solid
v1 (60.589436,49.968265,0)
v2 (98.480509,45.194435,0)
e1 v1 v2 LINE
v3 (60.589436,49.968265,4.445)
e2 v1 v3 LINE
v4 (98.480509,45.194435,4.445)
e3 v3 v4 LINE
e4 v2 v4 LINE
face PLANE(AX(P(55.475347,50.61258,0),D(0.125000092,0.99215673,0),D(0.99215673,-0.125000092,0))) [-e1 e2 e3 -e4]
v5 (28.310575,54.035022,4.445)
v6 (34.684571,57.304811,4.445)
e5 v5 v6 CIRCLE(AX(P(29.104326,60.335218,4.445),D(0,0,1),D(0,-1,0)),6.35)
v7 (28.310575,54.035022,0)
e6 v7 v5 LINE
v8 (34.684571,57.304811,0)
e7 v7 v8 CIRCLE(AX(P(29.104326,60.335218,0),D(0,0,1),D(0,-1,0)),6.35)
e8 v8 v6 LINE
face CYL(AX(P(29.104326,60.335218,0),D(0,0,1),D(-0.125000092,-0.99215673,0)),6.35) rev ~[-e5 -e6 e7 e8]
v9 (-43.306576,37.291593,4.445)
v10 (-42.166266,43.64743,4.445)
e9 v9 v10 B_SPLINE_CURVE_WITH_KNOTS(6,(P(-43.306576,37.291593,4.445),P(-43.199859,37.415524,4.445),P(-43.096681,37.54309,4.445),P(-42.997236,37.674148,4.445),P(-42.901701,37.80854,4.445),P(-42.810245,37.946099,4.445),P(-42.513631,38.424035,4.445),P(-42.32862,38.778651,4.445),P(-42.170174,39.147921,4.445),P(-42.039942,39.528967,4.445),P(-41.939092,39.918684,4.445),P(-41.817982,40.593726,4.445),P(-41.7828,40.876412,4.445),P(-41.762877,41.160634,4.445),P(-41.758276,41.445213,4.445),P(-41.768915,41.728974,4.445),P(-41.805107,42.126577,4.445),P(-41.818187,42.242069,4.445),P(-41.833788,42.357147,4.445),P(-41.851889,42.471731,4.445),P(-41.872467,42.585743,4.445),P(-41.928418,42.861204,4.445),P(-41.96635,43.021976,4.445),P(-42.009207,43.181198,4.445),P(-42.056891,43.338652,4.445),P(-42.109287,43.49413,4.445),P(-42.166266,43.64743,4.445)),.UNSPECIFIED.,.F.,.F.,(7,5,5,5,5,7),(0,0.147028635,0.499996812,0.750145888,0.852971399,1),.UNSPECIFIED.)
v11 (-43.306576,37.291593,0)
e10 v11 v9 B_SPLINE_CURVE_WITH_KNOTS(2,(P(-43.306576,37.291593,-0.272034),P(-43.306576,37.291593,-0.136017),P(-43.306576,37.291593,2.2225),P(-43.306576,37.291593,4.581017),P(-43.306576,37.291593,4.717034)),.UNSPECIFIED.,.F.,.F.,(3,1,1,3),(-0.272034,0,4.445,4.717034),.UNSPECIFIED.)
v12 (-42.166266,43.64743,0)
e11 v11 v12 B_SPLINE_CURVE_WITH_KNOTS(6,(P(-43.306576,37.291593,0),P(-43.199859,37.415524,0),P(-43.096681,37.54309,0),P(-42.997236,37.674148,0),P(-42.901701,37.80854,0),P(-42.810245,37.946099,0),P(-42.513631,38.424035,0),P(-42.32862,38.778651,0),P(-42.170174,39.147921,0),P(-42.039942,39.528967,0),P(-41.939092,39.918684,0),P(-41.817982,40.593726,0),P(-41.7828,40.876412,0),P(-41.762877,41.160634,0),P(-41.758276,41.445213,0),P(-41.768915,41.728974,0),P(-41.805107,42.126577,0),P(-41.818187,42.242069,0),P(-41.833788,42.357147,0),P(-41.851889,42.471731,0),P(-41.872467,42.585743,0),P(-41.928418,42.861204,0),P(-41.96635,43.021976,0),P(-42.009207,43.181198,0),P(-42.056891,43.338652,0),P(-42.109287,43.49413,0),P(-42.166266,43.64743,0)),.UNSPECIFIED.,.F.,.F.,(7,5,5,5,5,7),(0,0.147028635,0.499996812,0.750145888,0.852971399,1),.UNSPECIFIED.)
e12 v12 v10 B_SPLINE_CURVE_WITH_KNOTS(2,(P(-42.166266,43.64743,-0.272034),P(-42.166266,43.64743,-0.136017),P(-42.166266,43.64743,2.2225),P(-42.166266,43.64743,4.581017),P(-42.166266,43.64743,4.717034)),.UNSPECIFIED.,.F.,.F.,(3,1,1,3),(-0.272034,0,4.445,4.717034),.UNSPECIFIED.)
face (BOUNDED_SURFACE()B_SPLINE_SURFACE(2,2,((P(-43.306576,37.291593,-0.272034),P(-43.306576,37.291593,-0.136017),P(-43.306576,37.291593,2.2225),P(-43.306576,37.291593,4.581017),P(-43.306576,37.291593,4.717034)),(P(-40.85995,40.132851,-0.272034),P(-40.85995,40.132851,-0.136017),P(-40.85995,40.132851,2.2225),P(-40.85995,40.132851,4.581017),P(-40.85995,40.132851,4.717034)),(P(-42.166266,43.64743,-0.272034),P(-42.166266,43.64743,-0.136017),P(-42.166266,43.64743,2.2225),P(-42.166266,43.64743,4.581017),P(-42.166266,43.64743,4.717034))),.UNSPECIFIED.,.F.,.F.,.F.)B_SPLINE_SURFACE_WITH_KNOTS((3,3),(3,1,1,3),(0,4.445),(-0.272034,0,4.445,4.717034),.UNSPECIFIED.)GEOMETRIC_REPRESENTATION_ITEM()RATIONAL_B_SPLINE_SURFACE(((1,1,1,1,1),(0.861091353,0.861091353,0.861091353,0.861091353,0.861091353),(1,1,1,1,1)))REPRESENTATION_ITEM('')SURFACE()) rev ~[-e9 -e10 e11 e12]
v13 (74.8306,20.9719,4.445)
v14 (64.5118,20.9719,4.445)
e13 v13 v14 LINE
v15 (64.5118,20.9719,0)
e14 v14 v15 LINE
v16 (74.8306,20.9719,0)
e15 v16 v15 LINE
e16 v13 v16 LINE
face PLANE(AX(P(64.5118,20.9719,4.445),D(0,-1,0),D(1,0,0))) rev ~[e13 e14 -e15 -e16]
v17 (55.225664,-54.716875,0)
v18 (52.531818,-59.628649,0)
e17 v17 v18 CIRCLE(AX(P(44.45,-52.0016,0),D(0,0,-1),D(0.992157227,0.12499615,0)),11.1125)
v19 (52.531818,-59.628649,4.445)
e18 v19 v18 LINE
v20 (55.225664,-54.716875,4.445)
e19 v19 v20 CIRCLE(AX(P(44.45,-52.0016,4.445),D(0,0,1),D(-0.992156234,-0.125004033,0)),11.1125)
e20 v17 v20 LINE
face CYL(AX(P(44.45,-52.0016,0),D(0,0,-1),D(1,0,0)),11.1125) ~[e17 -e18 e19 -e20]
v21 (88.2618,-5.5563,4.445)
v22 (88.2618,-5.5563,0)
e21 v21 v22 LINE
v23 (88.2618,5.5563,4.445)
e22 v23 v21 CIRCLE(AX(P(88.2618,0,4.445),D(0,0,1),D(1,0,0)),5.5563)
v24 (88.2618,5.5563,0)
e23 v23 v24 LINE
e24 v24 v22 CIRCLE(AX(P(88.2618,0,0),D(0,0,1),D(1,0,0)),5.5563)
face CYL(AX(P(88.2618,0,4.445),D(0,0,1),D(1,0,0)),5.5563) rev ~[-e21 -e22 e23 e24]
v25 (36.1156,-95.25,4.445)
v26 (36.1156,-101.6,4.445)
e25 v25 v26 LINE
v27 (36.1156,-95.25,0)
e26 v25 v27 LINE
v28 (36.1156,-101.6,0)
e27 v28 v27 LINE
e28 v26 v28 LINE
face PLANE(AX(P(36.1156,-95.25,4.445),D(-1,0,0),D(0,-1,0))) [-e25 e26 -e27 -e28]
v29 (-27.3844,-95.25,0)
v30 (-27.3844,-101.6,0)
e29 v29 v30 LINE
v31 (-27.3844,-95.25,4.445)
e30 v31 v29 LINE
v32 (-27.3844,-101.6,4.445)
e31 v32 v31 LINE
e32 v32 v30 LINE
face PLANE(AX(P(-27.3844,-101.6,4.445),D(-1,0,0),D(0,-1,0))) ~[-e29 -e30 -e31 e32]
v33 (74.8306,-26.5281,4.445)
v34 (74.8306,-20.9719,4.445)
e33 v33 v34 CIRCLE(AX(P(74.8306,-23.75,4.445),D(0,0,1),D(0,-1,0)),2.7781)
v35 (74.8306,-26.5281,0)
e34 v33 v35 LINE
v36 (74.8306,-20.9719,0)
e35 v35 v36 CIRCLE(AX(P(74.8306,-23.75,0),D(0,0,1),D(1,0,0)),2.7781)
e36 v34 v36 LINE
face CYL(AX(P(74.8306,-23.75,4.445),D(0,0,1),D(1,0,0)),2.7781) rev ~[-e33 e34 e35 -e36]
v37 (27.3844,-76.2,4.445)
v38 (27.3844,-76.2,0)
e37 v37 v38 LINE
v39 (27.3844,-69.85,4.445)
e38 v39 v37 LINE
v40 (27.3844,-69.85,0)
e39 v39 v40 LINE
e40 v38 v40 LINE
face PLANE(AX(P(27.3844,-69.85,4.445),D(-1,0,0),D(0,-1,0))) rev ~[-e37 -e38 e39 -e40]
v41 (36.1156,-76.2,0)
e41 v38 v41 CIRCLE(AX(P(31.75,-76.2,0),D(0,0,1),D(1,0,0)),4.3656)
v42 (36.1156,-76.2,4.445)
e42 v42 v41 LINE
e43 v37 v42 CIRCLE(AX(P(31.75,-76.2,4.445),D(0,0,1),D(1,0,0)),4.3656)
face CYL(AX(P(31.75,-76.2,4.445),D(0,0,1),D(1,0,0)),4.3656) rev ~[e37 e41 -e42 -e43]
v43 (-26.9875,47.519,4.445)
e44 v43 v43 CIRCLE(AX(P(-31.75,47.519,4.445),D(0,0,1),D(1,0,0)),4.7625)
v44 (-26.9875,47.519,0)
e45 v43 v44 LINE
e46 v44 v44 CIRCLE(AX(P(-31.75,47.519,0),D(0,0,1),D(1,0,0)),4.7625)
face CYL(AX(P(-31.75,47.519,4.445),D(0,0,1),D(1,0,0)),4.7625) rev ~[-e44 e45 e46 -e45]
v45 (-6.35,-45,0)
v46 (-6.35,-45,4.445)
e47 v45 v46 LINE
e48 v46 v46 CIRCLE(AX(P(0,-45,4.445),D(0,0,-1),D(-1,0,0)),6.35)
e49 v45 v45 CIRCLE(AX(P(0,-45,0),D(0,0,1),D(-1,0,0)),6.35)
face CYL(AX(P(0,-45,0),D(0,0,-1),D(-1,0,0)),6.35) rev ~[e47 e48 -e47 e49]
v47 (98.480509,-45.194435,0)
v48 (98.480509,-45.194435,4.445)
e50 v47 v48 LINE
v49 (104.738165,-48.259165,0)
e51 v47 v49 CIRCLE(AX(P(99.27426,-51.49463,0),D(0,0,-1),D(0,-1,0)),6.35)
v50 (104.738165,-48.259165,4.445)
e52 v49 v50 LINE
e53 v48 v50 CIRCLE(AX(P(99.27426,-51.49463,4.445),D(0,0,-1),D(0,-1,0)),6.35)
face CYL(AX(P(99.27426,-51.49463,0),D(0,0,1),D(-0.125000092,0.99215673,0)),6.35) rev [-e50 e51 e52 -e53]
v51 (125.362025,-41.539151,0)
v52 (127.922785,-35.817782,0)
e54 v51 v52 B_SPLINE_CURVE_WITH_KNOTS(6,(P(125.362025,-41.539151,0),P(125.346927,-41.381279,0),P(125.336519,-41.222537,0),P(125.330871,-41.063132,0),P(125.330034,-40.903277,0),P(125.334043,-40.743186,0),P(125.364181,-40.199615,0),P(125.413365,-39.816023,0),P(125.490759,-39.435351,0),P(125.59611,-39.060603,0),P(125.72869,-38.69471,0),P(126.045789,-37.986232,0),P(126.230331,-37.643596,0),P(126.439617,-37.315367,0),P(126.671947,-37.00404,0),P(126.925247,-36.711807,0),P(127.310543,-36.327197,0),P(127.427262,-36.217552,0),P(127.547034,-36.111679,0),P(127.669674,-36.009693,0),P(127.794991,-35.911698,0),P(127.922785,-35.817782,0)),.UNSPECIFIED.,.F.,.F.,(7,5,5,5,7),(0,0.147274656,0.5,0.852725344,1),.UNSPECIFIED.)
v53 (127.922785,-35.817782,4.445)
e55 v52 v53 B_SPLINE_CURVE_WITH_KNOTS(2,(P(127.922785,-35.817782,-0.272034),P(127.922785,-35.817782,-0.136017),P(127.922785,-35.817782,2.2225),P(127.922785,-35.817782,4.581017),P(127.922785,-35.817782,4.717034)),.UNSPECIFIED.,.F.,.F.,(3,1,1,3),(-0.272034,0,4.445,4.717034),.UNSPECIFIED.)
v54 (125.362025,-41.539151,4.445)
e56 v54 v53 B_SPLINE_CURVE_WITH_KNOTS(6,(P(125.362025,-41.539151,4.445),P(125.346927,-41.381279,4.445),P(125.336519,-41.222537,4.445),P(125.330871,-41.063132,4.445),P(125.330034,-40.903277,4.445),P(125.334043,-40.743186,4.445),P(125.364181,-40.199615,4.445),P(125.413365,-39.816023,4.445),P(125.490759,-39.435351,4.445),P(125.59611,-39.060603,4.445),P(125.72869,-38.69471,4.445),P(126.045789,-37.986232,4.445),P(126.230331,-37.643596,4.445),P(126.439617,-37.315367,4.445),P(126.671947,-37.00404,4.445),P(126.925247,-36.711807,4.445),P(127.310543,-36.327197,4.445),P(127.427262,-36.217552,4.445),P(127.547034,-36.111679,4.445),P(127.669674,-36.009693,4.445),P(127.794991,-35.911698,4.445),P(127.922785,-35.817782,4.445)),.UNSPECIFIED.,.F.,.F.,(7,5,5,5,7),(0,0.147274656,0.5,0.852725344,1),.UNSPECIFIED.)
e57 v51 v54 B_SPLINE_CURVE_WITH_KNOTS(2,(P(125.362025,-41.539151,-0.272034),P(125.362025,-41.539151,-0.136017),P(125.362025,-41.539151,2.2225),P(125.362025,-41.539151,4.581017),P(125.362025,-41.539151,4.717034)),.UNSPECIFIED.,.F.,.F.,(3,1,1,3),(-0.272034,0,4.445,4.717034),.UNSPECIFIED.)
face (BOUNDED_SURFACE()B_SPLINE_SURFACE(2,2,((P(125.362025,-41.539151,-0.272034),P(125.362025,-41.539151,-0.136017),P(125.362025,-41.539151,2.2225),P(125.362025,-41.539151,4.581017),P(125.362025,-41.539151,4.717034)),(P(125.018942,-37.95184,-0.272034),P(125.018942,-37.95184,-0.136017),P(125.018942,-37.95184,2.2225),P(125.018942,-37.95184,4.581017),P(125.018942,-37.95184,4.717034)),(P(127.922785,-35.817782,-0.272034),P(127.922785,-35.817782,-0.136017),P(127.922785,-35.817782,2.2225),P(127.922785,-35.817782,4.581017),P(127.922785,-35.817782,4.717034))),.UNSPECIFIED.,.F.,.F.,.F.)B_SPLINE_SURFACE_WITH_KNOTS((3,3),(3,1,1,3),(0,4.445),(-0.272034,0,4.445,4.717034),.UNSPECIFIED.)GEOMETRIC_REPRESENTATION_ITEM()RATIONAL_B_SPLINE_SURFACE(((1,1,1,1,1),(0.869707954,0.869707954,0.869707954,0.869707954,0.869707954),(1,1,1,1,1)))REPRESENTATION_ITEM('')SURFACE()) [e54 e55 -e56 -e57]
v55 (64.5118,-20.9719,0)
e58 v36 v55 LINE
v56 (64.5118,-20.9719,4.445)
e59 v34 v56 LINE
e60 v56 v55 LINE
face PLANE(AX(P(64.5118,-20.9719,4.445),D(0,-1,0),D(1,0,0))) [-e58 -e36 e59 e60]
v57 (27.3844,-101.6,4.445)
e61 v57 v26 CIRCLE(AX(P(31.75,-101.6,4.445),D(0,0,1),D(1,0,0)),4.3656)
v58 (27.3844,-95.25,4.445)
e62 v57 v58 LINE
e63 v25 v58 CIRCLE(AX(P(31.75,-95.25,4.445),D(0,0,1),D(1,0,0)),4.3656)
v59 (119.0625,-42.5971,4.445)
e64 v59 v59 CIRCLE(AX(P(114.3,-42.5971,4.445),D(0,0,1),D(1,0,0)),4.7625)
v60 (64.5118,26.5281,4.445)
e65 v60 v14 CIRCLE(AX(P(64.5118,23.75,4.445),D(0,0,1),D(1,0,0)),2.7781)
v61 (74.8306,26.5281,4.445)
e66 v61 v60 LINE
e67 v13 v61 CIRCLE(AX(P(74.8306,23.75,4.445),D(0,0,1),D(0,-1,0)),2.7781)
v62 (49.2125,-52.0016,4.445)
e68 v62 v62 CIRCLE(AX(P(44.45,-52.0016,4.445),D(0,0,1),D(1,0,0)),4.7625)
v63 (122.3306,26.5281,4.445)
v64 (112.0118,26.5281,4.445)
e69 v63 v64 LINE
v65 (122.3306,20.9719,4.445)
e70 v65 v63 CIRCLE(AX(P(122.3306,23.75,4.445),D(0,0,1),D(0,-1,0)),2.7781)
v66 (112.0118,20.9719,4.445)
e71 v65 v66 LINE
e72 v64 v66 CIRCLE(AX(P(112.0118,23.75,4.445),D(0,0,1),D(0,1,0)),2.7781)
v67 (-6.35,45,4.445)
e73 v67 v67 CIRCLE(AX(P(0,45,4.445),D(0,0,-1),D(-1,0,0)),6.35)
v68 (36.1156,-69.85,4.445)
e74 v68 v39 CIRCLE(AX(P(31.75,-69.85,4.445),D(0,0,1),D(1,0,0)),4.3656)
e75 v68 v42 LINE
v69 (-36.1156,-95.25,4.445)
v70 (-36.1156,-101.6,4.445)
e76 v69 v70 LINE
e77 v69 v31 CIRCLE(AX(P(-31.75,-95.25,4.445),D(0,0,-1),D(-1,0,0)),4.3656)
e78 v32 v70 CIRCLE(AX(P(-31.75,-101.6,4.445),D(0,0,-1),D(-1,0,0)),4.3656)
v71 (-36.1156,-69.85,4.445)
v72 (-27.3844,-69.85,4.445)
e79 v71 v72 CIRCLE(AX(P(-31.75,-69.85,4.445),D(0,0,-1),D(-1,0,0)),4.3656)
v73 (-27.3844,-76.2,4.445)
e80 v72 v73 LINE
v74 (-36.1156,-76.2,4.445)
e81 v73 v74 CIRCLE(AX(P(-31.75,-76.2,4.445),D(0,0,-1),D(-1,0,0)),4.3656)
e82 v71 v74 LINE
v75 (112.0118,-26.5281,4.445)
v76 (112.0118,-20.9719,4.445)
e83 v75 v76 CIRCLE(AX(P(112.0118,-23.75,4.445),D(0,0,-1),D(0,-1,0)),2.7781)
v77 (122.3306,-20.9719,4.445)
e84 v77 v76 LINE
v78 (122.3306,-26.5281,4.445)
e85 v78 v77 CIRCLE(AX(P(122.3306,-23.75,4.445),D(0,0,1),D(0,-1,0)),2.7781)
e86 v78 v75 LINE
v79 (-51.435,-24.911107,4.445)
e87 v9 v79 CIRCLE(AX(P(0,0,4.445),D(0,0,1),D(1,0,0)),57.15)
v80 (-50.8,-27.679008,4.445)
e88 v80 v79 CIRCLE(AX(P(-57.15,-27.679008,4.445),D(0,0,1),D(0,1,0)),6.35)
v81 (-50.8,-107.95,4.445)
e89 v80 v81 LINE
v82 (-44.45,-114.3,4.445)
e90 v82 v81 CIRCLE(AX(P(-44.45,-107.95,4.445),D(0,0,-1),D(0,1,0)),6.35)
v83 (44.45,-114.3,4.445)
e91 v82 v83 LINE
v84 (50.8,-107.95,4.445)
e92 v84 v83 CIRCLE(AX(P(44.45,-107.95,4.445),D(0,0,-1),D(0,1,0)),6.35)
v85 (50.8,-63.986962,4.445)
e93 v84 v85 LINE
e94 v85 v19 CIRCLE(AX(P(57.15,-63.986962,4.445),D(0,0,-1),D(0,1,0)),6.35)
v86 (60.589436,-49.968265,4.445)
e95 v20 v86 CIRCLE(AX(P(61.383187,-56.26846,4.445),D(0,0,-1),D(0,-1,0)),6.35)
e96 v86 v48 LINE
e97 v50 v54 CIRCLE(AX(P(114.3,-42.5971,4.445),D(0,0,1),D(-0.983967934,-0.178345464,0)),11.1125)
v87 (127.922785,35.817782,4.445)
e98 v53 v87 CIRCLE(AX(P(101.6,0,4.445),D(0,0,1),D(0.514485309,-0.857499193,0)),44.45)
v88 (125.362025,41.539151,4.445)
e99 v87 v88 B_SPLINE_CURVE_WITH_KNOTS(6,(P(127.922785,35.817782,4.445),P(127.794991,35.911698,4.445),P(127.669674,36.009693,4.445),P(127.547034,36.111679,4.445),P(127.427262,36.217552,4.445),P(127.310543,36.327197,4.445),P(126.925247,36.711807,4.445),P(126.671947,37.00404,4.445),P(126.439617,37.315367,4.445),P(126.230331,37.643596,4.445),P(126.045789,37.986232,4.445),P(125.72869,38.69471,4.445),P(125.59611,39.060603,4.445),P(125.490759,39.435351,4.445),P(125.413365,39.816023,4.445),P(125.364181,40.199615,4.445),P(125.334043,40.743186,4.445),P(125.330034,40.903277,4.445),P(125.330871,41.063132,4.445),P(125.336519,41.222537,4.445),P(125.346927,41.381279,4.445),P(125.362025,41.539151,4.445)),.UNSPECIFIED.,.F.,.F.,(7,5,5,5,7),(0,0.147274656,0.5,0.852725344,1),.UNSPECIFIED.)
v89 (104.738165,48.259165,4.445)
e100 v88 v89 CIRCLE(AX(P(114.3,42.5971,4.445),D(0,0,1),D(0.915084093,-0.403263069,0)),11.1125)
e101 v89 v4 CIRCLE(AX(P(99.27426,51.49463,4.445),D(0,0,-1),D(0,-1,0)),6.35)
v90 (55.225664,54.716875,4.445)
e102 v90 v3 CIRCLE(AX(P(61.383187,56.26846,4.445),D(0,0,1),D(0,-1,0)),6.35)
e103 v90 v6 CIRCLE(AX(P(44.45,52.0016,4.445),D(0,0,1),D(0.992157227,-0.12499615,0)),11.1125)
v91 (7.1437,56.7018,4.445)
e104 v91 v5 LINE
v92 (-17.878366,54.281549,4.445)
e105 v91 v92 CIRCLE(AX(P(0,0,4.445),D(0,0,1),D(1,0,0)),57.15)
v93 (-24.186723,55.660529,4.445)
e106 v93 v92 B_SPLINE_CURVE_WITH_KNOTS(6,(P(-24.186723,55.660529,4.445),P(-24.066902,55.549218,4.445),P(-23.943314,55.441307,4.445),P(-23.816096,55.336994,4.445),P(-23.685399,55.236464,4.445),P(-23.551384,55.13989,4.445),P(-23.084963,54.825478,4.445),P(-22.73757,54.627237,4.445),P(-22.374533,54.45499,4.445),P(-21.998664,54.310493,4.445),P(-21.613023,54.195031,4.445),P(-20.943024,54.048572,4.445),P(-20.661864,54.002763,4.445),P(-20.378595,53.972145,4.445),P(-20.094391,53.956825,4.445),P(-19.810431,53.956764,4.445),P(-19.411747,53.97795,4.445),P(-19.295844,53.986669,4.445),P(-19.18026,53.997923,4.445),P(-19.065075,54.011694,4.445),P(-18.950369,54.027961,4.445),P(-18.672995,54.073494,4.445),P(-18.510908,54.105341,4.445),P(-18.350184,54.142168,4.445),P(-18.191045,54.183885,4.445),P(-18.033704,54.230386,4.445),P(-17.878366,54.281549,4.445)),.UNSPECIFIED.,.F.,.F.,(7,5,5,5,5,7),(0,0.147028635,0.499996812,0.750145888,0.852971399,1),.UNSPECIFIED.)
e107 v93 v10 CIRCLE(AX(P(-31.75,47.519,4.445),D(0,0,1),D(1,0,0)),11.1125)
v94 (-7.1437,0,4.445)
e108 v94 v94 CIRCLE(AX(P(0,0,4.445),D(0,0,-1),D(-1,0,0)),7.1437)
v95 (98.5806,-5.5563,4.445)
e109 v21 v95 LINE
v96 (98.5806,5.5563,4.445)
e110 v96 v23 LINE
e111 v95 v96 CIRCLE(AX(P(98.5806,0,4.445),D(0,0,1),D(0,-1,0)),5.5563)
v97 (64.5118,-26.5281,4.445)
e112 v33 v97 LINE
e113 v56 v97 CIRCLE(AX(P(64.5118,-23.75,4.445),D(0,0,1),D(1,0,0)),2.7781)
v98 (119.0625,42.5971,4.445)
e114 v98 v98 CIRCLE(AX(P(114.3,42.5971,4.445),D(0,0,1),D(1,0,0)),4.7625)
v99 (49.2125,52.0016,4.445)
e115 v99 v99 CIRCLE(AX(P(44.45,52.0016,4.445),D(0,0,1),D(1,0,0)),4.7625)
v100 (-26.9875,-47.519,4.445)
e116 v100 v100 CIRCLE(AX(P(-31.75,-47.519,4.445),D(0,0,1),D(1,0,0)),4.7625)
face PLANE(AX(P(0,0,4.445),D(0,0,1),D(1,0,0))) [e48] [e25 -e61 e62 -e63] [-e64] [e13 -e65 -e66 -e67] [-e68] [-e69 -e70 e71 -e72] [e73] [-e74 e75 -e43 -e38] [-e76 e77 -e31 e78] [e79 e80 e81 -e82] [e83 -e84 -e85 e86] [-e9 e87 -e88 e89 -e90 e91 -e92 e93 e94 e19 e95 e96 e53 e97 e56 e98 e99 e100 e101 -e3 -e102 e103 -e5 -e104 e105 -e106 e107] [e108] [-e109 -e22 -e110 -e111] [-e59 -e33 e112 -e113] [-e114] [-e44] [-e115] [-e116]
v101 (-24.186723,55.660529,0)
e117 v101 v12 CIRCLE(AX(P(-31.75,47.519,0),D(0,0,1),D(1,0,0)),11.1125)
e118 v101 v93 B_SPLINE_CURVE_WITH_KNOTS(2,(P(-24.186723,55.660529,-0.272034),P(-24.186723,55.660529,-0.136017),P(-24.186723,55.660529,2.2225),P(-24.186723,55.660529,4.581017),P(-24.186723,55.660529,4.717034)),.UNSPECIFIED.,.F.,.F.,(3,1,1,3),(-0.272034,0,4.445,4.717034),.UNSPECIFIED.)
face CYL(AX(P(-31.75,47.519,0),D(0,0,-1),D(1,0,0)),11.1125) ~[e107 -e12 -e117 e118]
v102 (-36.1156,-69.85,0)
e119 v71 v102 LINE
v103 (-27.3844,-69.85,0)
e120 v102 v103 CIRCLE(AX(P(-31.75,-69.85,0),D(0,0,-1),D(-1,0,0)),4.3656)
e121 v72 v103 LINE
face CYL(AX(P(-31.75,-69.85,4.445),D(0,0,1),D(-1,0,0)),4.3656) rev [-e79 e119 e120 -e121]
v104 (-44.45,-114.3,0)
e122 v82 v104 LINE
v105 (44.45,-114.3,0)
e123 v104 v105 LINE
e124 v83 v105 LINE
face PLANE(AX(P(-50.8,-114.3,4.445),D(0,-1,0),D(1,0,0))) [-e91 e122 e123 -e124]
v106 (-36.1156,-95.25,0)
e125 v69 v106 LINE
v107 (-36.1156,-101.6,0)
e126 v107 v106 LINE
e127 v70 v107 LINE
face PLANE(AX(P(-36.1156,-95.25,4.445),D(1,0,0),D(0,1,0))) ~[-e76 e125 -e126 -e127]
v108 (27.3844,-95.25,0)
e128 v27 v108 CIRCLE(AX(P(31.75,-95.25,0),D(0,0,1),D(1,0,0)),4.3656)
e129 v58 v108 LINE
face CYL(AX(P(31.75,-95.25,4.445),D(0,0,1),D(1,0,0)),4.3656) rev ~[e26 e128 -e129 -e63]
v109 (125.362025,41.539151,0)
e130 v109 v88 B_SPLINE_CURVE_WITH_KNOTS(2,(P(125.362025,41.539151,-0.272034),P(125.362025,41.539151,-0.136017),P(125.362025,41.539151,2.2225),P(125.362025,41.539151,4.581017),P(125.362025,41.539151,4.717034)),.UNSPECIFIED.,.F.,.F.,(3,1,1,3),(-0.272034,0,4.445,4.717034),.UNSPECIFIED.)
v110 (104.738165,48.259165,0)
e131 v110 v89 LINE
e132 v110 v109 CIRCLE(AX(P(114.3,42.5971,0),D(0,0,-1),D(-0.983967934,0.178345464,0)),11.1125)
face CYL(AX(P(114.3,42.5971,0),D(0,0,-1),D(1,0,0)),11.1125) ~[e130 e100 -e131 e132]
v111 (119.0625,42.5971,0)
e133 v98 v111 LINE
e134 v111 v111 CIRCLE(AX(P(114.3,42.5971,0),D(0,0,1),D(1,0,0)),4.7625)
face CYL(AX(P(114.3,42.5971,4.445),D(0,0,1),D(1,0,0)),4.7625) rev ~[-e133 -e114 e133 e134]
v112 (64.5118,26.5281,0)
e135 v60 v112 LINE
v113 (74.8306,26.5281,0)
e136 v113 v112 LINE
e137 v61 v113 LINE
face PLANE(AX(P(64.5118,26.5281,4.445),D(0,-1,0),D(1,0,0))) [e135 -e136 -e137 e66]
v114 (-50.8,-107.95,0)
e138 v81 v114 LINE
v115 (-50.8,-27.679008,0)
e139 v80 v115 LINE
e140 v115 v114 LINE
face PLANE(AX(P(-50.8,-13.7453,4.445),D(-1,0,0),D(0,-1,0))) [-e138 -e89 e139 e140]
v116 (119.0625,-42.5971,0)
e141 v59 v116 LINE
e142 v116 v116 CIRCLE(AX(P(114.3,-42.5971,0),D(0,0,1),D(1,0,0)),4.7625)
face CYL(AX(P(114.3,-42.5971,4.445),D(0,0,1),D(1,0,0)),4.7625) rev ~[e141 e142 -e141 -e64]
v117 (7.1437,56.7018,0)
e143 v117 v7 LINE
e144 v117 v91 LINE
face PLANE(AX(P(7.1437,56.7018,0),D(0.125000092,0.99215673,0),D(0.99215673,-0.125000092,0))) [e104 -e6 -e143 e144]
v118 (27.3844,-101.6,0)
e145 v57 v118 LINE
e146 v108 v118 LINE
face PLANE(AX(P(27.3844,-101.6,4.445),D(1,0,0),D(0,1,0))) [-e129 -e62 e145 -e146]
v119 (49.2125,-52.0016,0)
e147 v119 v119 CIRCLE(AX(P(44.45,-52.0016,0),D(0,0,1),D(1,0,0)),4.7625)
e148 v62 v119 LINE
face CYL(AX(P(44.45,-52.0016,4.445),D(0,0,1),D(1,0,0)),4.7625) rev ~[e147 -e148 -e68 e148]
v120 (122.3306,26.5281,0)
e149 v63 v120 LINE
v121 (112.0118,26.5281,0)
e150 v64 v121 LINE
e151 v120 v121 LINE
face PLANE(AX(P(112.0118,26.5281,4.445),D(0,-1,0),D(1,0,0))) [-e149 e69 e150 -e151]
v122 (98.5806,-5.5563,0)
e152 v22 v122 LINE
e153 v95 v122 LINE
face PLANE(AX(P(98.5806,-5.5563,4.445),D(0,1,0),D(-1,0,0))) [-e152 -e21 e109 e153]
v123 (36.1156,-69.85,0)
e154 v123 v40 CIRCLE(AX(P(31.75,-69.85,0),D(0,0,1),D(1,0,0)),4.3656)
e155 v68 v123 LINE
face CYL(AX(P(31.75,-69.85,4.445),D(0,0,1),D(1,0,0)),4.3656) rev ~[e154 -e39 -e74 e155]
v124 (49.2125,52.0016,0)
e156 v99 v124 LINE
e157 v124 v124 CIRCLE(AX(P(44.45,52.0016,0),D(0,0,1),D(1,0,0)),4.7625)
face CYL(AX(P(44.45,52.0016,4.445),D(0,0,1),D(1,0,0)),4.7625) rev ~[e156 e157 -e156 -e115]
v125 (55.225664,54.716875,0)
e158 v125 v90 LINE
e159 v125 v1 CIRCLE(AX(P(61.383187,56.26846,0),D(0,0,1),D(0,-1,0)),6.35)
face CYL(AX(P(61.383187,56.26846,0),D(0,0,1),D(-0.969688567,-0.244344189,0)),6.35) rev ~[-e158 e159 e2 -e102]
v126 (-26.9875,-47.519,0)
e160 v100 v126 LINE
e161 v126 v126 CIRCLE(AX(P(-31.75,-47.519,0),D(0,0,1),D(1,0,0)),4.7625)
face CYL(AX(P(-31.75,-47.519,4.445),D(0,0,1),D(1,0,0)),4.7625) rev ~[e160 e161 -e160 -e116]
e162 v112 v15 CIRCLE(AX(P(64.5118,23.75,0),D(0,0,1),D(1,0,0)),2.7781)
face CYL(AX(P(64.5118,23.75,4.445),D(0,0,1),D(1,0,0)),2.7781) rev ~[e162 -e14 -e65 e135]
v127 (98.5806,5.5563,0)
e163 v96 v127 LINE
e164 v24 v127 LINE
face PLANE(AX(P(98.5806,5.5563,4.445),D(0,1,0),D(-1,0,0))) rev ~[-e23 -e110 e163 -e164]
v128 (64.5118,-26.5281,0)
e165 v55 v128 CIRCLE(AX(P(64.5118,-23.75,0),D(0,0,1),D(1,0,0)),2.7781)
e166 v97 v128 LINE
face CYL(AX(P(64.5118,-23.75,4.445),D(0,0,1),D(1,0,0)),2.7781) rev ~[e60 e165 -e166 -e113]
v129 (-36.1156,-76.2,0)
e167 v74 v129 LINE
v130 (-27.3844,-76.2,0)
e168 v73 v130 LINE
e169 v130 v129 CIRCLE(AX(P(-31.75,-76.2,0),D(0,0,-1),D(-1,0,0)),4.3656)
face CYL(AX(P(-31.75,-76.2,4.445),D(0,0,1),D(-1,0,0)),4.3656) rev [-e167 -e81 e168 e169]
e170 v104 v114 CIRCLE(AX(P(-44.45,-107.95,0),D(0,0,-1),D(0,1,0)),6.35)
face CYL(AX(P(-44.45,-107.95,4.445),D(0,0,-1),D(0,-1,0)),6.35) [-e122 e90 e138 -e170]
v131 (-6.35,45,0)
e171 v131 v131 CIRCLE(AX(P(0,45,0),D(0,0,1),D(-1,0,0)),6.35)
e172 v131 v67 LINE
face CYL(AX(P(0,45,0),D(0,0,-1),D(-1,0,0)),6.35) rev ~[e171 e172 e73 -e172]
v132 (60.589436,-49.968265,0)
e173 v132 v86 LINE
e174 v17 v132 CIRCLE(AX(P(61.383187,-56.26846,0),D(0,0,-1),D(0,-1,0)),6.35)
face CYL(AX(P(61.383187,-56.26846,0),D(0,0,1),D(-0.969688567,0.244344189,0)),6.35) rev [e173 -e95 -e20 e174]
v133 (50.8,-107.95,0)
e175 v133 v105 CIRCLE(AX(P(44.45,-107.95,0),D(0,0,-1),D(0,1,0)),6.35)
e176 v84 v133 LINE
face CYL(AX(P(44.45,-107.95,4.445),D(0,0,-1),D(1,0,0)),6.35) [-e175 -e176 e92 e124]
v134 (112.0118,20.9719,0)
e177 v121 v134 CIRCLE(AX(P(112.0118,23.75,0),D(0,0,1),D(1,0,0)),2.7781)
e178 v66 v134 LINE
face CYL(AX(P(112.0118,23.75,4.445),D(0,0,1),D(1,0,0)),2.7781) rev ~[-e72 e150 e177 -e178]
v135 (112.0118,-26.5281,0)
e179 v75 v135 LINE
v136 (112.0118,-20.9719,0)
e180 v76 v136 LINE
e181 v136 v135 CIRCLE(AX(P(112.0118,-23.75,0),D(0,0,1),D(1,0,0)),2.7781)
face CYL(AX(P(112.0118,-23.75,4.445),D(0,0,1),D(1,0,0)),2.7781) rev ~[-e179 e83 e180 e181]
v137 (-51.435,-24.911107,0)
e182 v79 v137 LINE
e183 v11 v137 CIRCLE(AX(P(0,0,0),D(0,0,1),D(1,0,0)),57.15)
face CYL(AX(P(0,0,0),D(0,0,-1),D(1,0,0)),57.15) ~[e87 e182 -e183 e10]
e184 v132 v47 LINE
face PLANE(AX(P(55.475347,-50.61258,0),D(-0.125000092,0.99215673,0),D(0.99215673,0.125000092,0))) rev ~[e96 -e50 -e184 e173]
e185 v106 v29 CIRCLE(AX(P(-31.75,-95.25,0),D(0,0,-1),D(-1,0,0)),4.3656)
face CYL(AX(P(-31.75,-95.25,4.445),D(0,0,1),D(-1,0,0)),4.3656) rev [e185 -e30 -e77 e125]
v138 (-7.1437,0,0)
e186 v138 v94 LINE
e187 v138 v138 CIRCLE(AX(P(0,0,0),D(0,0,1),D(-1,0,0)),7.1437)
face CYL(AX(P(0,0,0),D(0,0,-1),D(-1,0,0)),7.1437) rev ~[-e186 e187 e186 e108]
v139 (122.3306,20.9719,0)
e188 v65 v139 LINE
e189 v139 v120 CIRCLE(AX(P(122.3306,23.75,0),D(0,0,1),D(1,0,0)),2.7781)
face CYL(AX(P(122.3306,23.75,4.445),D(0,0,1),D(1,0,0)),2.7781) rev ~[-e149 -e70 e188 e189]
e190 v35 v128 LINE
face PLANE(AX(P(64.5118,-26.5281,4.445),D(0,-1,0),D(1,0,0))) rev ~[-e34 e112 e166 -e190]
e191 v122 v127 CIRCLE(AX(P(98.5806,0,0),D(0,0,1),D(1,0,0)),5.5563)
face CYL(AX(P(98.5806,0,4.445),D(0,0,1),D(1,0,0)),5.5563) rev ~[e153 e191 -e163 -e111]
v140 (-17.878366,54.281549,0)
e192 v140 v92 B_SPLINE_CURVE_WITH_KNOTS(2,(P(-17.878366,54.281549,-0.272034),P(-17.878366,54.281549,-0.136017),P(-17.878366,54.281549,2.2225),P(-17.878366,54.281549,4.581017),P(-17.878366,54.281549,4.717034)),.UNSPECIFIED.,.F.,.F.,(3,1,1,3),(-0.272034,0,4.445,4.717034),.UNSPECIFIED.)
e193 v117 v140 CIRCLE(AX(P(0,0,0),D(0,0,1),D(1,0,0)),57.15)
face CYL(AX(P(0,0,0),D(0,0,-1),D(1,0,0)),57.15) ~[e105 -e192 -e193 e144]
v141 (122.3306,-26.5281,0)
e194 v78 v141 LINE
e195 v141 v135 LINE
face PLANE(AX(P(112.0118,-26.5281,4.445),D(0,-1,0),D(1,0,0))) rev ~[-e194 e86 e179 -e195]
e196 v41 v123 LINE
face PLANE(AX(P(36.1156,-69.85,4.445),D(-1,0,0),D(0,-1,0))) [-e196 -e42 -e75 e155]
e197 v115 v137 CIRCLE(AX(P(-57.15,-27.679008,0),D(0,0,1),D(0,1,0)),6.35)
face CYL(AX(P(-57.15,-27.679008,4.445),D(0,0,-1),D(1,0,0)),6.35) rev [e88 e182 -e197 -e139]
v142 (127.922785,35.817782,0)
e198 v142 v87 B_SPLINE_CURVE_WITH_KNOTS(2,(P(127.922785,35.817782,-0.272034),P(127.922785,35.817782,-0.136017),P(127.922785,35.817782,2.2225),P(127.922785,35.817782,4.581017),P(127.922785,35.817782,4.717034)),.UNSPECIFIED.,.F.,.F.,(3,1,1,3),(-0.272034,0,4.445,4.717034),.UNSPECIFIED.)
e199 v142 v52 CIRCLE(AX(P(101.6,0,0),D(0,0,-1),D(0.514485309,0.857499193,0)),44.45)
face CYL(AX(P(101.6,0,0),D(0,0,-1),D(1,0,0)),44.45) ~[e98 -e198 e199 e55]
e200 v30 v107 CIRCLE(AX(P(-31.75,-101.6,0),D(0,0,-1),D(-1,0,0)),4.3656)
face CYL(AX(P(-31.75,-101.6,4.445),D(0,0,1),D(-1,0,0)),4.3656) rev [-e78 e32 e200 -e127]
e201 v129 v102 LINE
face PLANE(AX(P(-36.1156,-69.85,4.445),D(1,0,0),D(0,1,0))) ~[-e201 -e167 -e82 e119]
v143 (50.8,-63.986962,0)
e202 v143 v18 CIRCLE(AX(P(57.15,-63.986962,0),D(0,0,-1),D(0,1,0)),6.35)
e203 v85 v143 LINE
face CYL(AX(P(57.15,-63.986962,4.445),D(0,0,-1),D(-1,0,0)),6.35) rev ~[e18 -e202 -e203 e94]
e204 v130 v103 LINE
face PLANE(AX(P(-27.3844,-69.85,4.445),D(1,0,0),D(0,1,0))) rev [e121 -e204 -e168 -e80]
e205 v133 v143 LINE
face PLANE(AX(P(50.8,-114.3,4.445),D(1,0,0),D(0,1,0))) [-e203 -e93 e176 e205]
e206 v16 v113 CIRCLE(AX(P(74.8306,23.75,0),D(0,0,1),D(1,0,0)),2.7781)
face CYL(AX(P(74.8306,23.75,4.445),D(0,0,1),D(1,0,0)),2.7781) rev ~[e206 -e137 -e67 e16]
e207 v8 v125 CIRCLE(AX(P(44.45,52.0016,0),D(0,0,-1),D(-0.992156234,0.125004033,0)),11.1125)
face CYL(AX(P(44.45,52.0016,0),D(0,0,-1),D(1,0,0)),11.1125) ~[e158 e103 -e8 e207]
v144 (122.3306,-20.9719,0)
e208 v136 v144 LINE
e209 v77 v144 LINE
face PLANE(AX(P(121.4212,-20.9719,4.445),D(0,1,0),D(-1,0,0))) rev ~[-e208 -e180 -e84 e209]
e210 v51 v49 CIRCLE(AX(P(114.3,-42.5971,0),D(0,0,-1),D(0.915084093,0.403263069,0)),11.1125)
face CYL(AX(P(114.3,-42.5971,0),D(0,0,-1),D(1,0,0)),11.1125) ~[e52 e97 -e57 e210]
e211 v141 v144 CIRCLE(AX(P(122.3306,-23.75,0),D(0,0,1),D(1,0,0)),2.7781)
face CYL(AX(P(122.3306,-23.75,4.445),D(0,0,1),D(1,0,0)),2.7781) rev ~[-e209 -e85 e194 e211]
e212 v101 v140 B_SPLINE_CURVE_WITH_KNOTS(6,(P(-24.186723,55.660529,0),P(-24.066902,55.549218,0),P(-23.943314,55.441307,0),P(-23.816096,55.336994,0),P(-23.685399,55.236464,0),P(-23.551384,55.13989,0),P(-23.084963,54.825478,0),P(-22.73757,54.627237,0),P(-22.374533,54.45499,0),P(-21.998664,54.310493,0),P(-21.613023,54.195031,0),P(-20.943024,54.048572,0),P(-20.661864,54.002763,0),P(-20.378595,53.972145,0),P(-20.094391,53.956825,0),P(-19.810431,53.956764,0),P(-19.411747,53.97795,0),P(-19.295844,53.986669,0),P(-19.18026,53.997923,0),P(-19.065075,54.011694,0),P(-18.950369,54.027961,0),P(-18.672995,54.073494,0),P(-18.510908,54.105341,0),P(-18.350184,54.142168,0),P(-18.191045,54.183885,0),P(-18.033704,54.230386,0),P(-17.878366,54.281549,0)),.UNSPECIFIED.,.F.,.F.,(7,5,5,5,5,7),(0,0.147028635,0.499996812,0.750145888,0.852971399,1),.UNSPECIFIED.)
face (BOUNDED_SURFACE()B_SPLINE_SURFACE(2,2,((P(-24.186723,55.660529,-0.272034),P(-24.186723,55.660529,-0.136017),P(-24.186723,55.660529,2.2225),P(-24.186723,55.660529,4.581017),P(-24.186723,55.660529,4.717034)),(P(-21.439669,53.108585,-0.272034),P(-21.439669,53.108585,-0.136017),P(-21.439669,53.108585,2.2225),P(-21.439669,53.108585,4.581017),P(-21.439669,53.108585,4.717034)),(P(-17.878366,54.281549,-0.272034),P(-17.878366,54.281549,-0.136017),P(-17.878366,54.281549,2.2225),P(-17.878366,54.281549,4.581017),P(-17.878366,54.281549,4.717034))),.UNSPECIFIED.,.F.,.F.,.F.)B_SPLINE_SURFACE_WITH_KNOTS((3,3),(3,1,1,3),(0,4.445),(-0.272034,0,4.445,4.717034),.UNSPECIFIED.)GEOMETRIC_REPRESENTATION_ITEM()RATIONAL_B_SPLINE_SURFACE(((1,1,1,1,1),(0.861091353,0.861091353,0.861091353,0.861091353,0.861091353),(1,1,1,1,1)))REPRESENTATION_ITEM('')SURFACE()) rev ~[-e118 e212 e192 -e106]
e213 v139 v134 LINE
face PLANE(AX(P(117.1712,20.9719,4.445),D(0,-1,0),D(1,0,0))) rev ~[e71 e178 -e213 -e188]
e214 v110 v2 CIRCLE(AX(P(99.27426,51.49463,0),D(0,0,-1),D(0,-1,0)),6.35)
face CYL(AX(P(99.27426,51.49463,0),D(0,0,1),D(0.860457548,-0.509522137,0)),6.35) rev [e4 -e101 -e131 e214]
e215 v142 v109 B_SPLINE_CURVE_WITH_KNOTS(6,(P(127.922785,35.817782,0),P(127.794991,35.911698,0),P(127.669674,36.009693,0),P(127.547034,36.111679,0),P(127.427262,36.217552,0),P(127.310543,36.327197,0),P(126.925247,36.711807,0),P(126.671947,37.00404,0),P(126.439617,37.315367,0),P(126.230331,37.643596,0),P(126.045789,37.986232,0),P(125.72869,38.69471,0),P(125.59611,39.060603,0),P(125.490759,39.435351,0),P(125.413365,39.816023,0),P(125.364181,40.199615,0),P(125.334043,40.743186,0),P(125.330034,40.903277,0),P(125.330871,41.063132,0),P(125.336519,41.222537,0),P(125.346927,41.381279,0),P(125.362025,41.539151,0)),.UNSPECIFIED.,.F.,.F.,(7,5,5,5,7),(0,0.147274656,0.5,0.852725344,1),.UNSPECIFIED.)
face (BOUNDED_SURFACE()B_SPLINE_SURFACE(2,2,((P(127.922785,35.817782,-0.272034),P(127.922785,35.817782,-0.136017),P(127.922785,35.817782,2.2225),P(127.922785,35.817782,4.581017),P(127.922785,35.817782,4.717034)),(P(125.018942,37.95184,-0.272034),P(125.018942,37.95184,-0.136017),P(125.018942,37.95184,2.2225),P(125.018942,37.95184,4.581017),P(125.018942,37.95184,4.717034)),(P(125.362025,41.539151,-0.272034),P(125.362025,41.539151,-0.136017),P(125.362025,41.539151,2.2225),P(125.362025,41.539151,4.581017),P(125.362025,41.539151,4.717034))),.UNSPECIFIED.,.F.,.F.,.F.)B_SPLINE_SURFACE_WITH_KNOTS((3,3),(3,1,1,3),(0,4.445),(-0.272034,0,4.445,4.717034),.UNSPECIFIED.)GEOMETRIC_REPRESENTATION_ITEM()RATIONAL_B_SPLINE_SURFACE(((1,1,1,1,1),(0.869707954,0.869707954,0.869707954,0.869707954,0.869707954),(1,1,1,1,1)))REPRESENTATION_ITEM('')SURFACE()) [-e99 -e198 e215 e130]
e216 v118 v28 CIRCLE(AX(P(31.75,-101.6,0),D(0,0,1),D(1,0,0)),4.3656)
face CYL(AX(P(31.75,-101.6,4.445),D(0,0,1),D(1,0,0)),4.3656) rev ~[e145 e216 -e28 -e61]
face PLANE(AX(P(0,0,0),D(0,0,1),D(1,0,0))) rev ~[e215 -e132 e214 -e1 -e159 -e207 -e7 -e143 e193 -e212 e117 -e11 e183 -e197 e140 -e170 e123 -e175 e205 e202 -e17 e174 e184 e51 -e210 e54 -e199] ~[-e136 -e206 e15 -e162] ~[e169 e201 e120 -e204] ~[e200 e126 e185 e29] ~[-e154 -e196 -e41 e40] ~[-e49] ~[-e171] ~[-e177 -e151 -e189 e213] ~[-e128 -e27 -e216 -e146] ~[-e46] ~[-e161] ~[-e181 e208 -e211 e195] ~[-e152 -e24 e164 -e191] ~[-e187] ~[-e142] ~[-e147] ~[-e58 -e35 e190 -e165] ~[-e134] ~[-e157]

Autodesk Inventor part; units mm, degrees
ref_plane "YZ Plane" through (0, 0, 0) normal (1, 0, 0) x (0, 1, 0)
ref_plane "XZ Plane" through (0, 0, 0) normal (0, 1, 0) x (-1, 0, 0)
ref_plane "XY Plane" through (0, 0, 0) normal (0, 0, 1) x (1, 0, 0)
sketch "Boceto1" plane through (0, 0, 0) normal (0, 0, 1) x (1, 0, 0)
  circle A0 centre (0, 0) radius 57.15
  circle A1 centre (101.6, 0) radius 44.45
  circle A2 centre (-31.75, 47.519) radius 11.1125
  circle A3 centre (-31.75, -47.519) radius 11.1125
  circle A4 centre (114.3, 42.5971) radius 11.1125
  circle A5 centre (114.3, -42.5971) radius 11.1125
  line L0 (7.1437, 56.7018) -> (107.1562, 44.1014)
  circle A6 centre (44.45, 52.0016) radius 11.1125
  line L1 (7.1437, -56.7018) -> (107.1562, -44.1014)
  circle A7 centre (44.45, -52.0016) radius 11.1125
  dimension "d0" = 114.3
  dimension "d1" = 88.9
  dimension "d2" = 203.2
  dimension "d3" = 22.225
  dimension "d4" = 22.225
  dimension "d7" = 22.225
  dimension "d8" = 22.225
  dimension "d11" = 22.225
  dimension "d13" = 0
  dimension "d14" = 22.225
  dimension "d27" = 12.7
  dimension "d28" = 12.7
  dimension "d29" = 44.45
  dimension "d30" = 44.45
  dimension "d31" = 31.75
  dimension "d32" = 31.75
extrude "Extrusión1" add sketch "Boceto1" along normal blind 4.445
sketch "Boceto2" plane through (0, 0, 4.445) normal (0, 0, 1) x (1, 0, 0)
  arc A0 (-21.9537, 52.7651) -> (-40.3458, 40.4764) centre (-31.75, 47.519) ccw projected
  circle A1 centre (-31.75, 47.519) radius 4.7625
  arc A2 (-40.3458, -40.4764) -> (-21.9537, -52.7651) centre (-31.75, -47.519) ccw projected
  circle A3 centre (-31.75, -47.519) radius 4.7625
  arc A4 (33.4247, -53.3907) -> (55.4753, -50.6125) centre (44.45, -52.0016) ccw projected
  circle A5 centre (44.45, -52.0016) radius 4.7625
  arc A6 (55.4753, 50.6125) -> (33.4247, 53.3907) centre (44.45, 52.0016) ccw projected
  circle A7 centre (44.45, 52.0016) radius 4.7625
  arc A8 (124.4689, 38.1158) -> (103.3657, 44.5789) centre (114.3, 42.5971) ccw projected
  circle A9 centre (114.3, 42.5971) radius 4.7625
  arc A10 (103.3657, -44.5789) -> (124.4689, -38.1158) centre (114.3, -42.5971) ccw projected
  circle A11 centre (114.3, -42.5971) radius 4.7625
  point P0 (0, 0)
  dimension "d18" = 9.525
  dimension "d19" = 9.525
  dimension "d20" = 9.525
  dimension "d21" = 9.525
  dimension "d22" = 9.525
  dimension "d23" = 9.525
extrude "Extrusión2" cut sketch "Boceto2" against normal up to surface (4.445 mm away)
fillet "Empalme1" radius 6.35 12 edges at (-21.9537, -52.7651, 2.2225) (-40.3458, -40.4764, 2.2225) (33.4247, -53.3907, 2.2225) (55.4753, -50.6125, 2.2225) (124.4689, -38.1158, 2.2225) (-40.3458, 40.4764, 2.2225) (-21.9537, 52.7651, 2.2225) (33.4247, 53.3907, 2.2225) (55.4753, 50.6125, 2.2225) (103.3657, 44.5789, 2.2225) (124.4689, 38.1158, 2.2225) (103.3657, -44.5789, 2.2225)
sketch "Boceto3" plane through (0, 0, 0) normal (0, 0, -1) x (-1, 0, 0)
  circle A0 centre (0, 0) radius 7.1437
  circle A1 centre (0, -45) radius 6.35
  circle A2 centre (0, 45) radius 6.35
  line L0 (0, -45) -> (0, 0)
  line L1 (0, 0) -> (0, 45)
  dimension "d33" = 14.2875
  dimension "d34" = 12.7
  dimension "d35" = 12.7
  dimension "d36" = 45
  dimension "d37" = 45
extrude "Extrusión3" cut sketch "Boceto3" against normal up to surface (4.445 mm away)
sketch "Boceto4" plane through (0, 0, 4.445) normal (0, 0, 1) x (1, 0, 0)
  circle A0 centre (93.4212, 0) radius 5.5563
  line L0 (65.4212, -28) -> (121.4212, -28)
  line L1 (121.4212, -28) -> (121.4212, 28)
  line L2 (121.4212, 28) -> (65.4212, 28)
  line L3 (65.4212, 28) -> (65.4212, -28)
  line L4 (69.6712, -23.75) -> (117.1712, -23.75)
  line L5 (117.1712, -23.75) -> (117.1712, 23.75)
  line L6 (117.1712, 23.75) -> (69.6712, 23.75)
  line L7 (69.6712, 23.75) -> (69.6712, -23.75)
  circle A1 centre (74.8306, -23.75) radius 2.7781
  circle A2 centre (112.0118, -23.75) radius 2.7781
  circle A3 centre (122.3306, -23.75) radius 2.7781
  circle A4 centre (64.5118, -23.75) radius 2.7781
  line L8 (64.5118, -26.5281) -> (74.8306, -26.5281)
  line L9 (64.5118, -20.9719) -> (74.8306, -20.9719)
  line L10 (112.0118, -26.5281) -> (122.3306, -26.5281)
  line L11 (122.3306, -20.9719) -> (112.0118, -20.9719)
  circle A5 centre (74.8306, 23.75) radius 2.7781
  circle A6 centre (64.5118, 23.75) radius 2.7781
  line L12 (64.5118, 20.9719) -> (74.8306, 20.9719)
  line L13 (64.5118, 26.5281) -> (74.8306, 26.5281)
  circle A7 centre (112.0118, 23.75) radius 2.7781
  circle A8 centre (122.3306, 23.75) radius 2.7781
  line L14 (112.0118, 20.9719) -> (122.3306, 20.9719)
  line L15 (112.0118, 26.5281) -> (122.3306, 26.5281)
  circle A9 centre (98.5806, 0) radius 5.5563
  circle A10 centre (88.2618, 0) radius 5.5563
  line L16 (98.5806, 5.5563) -> (88.2618, 5.5563)
  line L17 (98.5806, -5.5563) -> (88.2618, -5.5563)
  point P0 (0, 0)
  dimension "d40" = 11.1125
  dimension "d41" = 56
  dimension "d42" = 56
  dimension "d43" = 28
  dimension "d44" = 28
  dimension "d45" = 0
  dimension "d46" = 93.4212
  dimension "d47" = 47.5
  dimension "d48" = 47.5
  dimension "d49" = 23.75
  dimension "d50" = 23.75
  dimension "d57" = 5.5563
  dimension "d58" = 5.1594
  dimension "d59" = 5.5563
  dimension "d60" = 5.5563
  dimension "d61" = 5.1594
  dimension "d62" = 5.1594
  dimension "d63" = 5.5563
  dimension "d64" = 5.1594
  dimension "d65" = 0
  dimension "d66" = 5.5563
  dimension "d67" = 5.5563
  dimension "d68" = 5.1594
  dimension "d69" = 5.1594
  dimension "d70" = 0
  dimension "d71" = 5.5563
  dimension "d72" = 5.5563
  dimension "d73" = 5.1594
  dimension "d74" = 5.1594
  dimension "d75" = 0
  dimension "d78" = 11.1125
  dimension "d79" = 11.1125
  dimension "d80" = 5.1594
  dimension "d81" = 5.1594
extrude "Extrusión4" cut sketch "Boceto4" against normal up to next contours A0 A9 A10 | A0 A9 | A9 A10 A0 | A0 L16 A9 | A9 L17 A0 | A0 A10 A9 | A0 A10 L16 | A10 A9 | A9 A10 A0 | L17 A10 A0 | A0 A10 | L8 A4 L3 | L3 A4 L9 L7 L4 A1 L8 | L10 A2 L4 L5 L11 L1 A3 | L1 A3 L10 | A4 L3 | L3 A4 | A1 L4 | A3 L1 | L1 A3 | A2 L4 | A4 L9 L3 | L4 A1 | L4 L7 L9 A1 | L1 L11 A3 | A2 L11 L5 L4 | L4 A2 | L12 A6 L3 | L3 A6 L13 A5 L6 L7 L12 | L14 L5 L6 A7 L15 L1 A8 | L1 A8 L14 | A6 L3 | L3 A6 | L7 L6 A5 L12 | A8 L1 | L1 A8 | L14 A7 L6 L5 | A6 L13 L3 | A5 L6 | L1 L15 A8 | A7 L6 | A5 L6 | L6 A7
sketch "Boceto5" plane through (0, 0, 4.445) normal (0, 0, 1) x (1, 0, 0)
  line L0 (50.8, -13.7453) -> (-50.8, -13.7453)
  line L1 (-50.8, -13.7453) -> (-50.8, -114.3)
  line L2 (-50.8, -114.3) -> (50.8, -114.3)
  line L3 (50.8, -114.3) -> (50.8, -13.7453)
  arc A0 (7.1437, 56.7018) -> (-17.8783, 54.2816) centre (0, 0) ccw projected
  arc A1 (7.1437, 56.7018) -> (-17.8783, 54.2816) centre (0, 0) ccw projected
  line L4 (0, 57.15) -> (7.6634, 57.15)
  arc A2 (127.9228, -35.8178) -> (127.9228, 35.8178) centre (101.6, 0) ccw projected
  line L5 (146.05, 0) -> (146.05, -27.5116)
  dimension "d82" = 101.6
  dimension "d84" = 171.45
  dimension "d85" = 95.25
extrude "Extrusión5" add sketch "Boceto5" against normal up to surface (4.445 mm away)
extrude "Extrusión6" cut sketch "Boceto2" against normal up to next contours A3 | A5
sketch "Boceto7" plane through (0, 0, 4.445) normal (0, 0, 1) x (1, 0, 0)
  circle A0 centre (31.75, -69.85) radius 4.3656
  circle A1 centre (31.75, -76.2) radius 4.3656
  line L0 (50.8, -114.3) -> (50.8, -61.1211) projected
  line L1 (-50.8, -114.3) -> (50.8, -114.3) projected
  line L2 (36.1156, -69.85) -> (36.1156, -76.2)
  line L3 (27.3844, -69.85) -> (27.3844, -76.2)
  circle A2 centre (31.75, -95.25) radius 4.3656
  circle A3 centre (31.75, -101.6) radius 4.3656
  line L4 (36.1156, -95.25) -> (36.1156, -101.6)
  line L5 (27.3844, -101.6) -> (27.3844, -95.25)
  point P0 (0, 0)
  dimension "d90" = 8.7312
  dimension "d91" = 8.7312
  dimension "d92" = 19.05
  dimension "d93" = 44.45
  dimension "d94" = 38.1
  dimension "d95" = 0
  dimension "d96" = 8.7312
  dimension "d97" = 8.7312
  dimension "d98" = 19.05
  dimension "d99" = 19.05
  dimension "d100" = 12.7
  dimension "d101" = 0
extrude "Extrusión7" cut sketch "Boceto7" against normal up to next
mirror "Simetría1" about plane through (0, 0, 0) normal (1, 0, 0) of "Extrusión7"
fillet "Empalme2" radius 6.35 4 edges at (-50.8, -26.1817, 2.2225) (-50.8, -114.3, 2.2225) (50.8, -61.1211, 2.2225) (50.8, -114.3, 2.2225)
extrude "Extrusión8" cut sketch "Boceto3" against normal up to next contours A1
equation "\"d16\" = t"
equation "\"d18\" = Q"
equation "\"d19\" = Q"
equation "\"d20\" = Q"
equation "\"d21\" = Q"
equation "\"d22\" = Q"
equation "\"d23\" = Q"
equation "\"d33\" = DF"
equation "\"d34\" = NF"
equation "\"d35\" = NF"
equation "\"d36\" = 0.5 * JF"
equation "\"d37\" = 0.5 * JF"
equation "\"d40\" = DM"
equation "\"d41\" = AM"
equation "\"d42\" = AM"
equation "\"d43\" = 0.5 * AM"
equation "\"d44\" = 0.5 * AM"
equation "\"d46\" = CM"
equation "\"d47\" = BM"
equation "\"d48\" = BM"
equation "\"d49\" = 0.5 * BM"
equation "\"d50\" = 0.5 * BM"
equation "\"d57\" = NM"
equation "\"d59\" = NM"
equation "\"d60\" = NM"
equation "\"d63\" = NM"
equation "\"d66\" = NM"
equation "\"d67\" = NM"
equation "\"d71\" = NM"
equation "\"d72\" = NM"
equation "\"d78\" = DM"
equation "\"d79\" = DM"
equation "\"d90\" = DH"
equation "\"d91\" = DH"
equation "\"d96\" = DH"
equation "\"d97\" = DH"
equation "\"t\" = 4.445"
equation "\"Q\" = 9.525"
equation "\"DF\" = 14.2875"
equation "\"NF\" = 12.7"
equation "\"DM\" = 11.1125"
equation "\"NM\" = 5.55625"
equation "\"CM\" = 93.4212"
equation "\"AM\" = 56"
equation "\"BM\" = 47.5"
equation "\"DH\" = 8.73125"
equation "\"JF\" = 90"
properties part number "CAR REDUCTION PLATE II"
